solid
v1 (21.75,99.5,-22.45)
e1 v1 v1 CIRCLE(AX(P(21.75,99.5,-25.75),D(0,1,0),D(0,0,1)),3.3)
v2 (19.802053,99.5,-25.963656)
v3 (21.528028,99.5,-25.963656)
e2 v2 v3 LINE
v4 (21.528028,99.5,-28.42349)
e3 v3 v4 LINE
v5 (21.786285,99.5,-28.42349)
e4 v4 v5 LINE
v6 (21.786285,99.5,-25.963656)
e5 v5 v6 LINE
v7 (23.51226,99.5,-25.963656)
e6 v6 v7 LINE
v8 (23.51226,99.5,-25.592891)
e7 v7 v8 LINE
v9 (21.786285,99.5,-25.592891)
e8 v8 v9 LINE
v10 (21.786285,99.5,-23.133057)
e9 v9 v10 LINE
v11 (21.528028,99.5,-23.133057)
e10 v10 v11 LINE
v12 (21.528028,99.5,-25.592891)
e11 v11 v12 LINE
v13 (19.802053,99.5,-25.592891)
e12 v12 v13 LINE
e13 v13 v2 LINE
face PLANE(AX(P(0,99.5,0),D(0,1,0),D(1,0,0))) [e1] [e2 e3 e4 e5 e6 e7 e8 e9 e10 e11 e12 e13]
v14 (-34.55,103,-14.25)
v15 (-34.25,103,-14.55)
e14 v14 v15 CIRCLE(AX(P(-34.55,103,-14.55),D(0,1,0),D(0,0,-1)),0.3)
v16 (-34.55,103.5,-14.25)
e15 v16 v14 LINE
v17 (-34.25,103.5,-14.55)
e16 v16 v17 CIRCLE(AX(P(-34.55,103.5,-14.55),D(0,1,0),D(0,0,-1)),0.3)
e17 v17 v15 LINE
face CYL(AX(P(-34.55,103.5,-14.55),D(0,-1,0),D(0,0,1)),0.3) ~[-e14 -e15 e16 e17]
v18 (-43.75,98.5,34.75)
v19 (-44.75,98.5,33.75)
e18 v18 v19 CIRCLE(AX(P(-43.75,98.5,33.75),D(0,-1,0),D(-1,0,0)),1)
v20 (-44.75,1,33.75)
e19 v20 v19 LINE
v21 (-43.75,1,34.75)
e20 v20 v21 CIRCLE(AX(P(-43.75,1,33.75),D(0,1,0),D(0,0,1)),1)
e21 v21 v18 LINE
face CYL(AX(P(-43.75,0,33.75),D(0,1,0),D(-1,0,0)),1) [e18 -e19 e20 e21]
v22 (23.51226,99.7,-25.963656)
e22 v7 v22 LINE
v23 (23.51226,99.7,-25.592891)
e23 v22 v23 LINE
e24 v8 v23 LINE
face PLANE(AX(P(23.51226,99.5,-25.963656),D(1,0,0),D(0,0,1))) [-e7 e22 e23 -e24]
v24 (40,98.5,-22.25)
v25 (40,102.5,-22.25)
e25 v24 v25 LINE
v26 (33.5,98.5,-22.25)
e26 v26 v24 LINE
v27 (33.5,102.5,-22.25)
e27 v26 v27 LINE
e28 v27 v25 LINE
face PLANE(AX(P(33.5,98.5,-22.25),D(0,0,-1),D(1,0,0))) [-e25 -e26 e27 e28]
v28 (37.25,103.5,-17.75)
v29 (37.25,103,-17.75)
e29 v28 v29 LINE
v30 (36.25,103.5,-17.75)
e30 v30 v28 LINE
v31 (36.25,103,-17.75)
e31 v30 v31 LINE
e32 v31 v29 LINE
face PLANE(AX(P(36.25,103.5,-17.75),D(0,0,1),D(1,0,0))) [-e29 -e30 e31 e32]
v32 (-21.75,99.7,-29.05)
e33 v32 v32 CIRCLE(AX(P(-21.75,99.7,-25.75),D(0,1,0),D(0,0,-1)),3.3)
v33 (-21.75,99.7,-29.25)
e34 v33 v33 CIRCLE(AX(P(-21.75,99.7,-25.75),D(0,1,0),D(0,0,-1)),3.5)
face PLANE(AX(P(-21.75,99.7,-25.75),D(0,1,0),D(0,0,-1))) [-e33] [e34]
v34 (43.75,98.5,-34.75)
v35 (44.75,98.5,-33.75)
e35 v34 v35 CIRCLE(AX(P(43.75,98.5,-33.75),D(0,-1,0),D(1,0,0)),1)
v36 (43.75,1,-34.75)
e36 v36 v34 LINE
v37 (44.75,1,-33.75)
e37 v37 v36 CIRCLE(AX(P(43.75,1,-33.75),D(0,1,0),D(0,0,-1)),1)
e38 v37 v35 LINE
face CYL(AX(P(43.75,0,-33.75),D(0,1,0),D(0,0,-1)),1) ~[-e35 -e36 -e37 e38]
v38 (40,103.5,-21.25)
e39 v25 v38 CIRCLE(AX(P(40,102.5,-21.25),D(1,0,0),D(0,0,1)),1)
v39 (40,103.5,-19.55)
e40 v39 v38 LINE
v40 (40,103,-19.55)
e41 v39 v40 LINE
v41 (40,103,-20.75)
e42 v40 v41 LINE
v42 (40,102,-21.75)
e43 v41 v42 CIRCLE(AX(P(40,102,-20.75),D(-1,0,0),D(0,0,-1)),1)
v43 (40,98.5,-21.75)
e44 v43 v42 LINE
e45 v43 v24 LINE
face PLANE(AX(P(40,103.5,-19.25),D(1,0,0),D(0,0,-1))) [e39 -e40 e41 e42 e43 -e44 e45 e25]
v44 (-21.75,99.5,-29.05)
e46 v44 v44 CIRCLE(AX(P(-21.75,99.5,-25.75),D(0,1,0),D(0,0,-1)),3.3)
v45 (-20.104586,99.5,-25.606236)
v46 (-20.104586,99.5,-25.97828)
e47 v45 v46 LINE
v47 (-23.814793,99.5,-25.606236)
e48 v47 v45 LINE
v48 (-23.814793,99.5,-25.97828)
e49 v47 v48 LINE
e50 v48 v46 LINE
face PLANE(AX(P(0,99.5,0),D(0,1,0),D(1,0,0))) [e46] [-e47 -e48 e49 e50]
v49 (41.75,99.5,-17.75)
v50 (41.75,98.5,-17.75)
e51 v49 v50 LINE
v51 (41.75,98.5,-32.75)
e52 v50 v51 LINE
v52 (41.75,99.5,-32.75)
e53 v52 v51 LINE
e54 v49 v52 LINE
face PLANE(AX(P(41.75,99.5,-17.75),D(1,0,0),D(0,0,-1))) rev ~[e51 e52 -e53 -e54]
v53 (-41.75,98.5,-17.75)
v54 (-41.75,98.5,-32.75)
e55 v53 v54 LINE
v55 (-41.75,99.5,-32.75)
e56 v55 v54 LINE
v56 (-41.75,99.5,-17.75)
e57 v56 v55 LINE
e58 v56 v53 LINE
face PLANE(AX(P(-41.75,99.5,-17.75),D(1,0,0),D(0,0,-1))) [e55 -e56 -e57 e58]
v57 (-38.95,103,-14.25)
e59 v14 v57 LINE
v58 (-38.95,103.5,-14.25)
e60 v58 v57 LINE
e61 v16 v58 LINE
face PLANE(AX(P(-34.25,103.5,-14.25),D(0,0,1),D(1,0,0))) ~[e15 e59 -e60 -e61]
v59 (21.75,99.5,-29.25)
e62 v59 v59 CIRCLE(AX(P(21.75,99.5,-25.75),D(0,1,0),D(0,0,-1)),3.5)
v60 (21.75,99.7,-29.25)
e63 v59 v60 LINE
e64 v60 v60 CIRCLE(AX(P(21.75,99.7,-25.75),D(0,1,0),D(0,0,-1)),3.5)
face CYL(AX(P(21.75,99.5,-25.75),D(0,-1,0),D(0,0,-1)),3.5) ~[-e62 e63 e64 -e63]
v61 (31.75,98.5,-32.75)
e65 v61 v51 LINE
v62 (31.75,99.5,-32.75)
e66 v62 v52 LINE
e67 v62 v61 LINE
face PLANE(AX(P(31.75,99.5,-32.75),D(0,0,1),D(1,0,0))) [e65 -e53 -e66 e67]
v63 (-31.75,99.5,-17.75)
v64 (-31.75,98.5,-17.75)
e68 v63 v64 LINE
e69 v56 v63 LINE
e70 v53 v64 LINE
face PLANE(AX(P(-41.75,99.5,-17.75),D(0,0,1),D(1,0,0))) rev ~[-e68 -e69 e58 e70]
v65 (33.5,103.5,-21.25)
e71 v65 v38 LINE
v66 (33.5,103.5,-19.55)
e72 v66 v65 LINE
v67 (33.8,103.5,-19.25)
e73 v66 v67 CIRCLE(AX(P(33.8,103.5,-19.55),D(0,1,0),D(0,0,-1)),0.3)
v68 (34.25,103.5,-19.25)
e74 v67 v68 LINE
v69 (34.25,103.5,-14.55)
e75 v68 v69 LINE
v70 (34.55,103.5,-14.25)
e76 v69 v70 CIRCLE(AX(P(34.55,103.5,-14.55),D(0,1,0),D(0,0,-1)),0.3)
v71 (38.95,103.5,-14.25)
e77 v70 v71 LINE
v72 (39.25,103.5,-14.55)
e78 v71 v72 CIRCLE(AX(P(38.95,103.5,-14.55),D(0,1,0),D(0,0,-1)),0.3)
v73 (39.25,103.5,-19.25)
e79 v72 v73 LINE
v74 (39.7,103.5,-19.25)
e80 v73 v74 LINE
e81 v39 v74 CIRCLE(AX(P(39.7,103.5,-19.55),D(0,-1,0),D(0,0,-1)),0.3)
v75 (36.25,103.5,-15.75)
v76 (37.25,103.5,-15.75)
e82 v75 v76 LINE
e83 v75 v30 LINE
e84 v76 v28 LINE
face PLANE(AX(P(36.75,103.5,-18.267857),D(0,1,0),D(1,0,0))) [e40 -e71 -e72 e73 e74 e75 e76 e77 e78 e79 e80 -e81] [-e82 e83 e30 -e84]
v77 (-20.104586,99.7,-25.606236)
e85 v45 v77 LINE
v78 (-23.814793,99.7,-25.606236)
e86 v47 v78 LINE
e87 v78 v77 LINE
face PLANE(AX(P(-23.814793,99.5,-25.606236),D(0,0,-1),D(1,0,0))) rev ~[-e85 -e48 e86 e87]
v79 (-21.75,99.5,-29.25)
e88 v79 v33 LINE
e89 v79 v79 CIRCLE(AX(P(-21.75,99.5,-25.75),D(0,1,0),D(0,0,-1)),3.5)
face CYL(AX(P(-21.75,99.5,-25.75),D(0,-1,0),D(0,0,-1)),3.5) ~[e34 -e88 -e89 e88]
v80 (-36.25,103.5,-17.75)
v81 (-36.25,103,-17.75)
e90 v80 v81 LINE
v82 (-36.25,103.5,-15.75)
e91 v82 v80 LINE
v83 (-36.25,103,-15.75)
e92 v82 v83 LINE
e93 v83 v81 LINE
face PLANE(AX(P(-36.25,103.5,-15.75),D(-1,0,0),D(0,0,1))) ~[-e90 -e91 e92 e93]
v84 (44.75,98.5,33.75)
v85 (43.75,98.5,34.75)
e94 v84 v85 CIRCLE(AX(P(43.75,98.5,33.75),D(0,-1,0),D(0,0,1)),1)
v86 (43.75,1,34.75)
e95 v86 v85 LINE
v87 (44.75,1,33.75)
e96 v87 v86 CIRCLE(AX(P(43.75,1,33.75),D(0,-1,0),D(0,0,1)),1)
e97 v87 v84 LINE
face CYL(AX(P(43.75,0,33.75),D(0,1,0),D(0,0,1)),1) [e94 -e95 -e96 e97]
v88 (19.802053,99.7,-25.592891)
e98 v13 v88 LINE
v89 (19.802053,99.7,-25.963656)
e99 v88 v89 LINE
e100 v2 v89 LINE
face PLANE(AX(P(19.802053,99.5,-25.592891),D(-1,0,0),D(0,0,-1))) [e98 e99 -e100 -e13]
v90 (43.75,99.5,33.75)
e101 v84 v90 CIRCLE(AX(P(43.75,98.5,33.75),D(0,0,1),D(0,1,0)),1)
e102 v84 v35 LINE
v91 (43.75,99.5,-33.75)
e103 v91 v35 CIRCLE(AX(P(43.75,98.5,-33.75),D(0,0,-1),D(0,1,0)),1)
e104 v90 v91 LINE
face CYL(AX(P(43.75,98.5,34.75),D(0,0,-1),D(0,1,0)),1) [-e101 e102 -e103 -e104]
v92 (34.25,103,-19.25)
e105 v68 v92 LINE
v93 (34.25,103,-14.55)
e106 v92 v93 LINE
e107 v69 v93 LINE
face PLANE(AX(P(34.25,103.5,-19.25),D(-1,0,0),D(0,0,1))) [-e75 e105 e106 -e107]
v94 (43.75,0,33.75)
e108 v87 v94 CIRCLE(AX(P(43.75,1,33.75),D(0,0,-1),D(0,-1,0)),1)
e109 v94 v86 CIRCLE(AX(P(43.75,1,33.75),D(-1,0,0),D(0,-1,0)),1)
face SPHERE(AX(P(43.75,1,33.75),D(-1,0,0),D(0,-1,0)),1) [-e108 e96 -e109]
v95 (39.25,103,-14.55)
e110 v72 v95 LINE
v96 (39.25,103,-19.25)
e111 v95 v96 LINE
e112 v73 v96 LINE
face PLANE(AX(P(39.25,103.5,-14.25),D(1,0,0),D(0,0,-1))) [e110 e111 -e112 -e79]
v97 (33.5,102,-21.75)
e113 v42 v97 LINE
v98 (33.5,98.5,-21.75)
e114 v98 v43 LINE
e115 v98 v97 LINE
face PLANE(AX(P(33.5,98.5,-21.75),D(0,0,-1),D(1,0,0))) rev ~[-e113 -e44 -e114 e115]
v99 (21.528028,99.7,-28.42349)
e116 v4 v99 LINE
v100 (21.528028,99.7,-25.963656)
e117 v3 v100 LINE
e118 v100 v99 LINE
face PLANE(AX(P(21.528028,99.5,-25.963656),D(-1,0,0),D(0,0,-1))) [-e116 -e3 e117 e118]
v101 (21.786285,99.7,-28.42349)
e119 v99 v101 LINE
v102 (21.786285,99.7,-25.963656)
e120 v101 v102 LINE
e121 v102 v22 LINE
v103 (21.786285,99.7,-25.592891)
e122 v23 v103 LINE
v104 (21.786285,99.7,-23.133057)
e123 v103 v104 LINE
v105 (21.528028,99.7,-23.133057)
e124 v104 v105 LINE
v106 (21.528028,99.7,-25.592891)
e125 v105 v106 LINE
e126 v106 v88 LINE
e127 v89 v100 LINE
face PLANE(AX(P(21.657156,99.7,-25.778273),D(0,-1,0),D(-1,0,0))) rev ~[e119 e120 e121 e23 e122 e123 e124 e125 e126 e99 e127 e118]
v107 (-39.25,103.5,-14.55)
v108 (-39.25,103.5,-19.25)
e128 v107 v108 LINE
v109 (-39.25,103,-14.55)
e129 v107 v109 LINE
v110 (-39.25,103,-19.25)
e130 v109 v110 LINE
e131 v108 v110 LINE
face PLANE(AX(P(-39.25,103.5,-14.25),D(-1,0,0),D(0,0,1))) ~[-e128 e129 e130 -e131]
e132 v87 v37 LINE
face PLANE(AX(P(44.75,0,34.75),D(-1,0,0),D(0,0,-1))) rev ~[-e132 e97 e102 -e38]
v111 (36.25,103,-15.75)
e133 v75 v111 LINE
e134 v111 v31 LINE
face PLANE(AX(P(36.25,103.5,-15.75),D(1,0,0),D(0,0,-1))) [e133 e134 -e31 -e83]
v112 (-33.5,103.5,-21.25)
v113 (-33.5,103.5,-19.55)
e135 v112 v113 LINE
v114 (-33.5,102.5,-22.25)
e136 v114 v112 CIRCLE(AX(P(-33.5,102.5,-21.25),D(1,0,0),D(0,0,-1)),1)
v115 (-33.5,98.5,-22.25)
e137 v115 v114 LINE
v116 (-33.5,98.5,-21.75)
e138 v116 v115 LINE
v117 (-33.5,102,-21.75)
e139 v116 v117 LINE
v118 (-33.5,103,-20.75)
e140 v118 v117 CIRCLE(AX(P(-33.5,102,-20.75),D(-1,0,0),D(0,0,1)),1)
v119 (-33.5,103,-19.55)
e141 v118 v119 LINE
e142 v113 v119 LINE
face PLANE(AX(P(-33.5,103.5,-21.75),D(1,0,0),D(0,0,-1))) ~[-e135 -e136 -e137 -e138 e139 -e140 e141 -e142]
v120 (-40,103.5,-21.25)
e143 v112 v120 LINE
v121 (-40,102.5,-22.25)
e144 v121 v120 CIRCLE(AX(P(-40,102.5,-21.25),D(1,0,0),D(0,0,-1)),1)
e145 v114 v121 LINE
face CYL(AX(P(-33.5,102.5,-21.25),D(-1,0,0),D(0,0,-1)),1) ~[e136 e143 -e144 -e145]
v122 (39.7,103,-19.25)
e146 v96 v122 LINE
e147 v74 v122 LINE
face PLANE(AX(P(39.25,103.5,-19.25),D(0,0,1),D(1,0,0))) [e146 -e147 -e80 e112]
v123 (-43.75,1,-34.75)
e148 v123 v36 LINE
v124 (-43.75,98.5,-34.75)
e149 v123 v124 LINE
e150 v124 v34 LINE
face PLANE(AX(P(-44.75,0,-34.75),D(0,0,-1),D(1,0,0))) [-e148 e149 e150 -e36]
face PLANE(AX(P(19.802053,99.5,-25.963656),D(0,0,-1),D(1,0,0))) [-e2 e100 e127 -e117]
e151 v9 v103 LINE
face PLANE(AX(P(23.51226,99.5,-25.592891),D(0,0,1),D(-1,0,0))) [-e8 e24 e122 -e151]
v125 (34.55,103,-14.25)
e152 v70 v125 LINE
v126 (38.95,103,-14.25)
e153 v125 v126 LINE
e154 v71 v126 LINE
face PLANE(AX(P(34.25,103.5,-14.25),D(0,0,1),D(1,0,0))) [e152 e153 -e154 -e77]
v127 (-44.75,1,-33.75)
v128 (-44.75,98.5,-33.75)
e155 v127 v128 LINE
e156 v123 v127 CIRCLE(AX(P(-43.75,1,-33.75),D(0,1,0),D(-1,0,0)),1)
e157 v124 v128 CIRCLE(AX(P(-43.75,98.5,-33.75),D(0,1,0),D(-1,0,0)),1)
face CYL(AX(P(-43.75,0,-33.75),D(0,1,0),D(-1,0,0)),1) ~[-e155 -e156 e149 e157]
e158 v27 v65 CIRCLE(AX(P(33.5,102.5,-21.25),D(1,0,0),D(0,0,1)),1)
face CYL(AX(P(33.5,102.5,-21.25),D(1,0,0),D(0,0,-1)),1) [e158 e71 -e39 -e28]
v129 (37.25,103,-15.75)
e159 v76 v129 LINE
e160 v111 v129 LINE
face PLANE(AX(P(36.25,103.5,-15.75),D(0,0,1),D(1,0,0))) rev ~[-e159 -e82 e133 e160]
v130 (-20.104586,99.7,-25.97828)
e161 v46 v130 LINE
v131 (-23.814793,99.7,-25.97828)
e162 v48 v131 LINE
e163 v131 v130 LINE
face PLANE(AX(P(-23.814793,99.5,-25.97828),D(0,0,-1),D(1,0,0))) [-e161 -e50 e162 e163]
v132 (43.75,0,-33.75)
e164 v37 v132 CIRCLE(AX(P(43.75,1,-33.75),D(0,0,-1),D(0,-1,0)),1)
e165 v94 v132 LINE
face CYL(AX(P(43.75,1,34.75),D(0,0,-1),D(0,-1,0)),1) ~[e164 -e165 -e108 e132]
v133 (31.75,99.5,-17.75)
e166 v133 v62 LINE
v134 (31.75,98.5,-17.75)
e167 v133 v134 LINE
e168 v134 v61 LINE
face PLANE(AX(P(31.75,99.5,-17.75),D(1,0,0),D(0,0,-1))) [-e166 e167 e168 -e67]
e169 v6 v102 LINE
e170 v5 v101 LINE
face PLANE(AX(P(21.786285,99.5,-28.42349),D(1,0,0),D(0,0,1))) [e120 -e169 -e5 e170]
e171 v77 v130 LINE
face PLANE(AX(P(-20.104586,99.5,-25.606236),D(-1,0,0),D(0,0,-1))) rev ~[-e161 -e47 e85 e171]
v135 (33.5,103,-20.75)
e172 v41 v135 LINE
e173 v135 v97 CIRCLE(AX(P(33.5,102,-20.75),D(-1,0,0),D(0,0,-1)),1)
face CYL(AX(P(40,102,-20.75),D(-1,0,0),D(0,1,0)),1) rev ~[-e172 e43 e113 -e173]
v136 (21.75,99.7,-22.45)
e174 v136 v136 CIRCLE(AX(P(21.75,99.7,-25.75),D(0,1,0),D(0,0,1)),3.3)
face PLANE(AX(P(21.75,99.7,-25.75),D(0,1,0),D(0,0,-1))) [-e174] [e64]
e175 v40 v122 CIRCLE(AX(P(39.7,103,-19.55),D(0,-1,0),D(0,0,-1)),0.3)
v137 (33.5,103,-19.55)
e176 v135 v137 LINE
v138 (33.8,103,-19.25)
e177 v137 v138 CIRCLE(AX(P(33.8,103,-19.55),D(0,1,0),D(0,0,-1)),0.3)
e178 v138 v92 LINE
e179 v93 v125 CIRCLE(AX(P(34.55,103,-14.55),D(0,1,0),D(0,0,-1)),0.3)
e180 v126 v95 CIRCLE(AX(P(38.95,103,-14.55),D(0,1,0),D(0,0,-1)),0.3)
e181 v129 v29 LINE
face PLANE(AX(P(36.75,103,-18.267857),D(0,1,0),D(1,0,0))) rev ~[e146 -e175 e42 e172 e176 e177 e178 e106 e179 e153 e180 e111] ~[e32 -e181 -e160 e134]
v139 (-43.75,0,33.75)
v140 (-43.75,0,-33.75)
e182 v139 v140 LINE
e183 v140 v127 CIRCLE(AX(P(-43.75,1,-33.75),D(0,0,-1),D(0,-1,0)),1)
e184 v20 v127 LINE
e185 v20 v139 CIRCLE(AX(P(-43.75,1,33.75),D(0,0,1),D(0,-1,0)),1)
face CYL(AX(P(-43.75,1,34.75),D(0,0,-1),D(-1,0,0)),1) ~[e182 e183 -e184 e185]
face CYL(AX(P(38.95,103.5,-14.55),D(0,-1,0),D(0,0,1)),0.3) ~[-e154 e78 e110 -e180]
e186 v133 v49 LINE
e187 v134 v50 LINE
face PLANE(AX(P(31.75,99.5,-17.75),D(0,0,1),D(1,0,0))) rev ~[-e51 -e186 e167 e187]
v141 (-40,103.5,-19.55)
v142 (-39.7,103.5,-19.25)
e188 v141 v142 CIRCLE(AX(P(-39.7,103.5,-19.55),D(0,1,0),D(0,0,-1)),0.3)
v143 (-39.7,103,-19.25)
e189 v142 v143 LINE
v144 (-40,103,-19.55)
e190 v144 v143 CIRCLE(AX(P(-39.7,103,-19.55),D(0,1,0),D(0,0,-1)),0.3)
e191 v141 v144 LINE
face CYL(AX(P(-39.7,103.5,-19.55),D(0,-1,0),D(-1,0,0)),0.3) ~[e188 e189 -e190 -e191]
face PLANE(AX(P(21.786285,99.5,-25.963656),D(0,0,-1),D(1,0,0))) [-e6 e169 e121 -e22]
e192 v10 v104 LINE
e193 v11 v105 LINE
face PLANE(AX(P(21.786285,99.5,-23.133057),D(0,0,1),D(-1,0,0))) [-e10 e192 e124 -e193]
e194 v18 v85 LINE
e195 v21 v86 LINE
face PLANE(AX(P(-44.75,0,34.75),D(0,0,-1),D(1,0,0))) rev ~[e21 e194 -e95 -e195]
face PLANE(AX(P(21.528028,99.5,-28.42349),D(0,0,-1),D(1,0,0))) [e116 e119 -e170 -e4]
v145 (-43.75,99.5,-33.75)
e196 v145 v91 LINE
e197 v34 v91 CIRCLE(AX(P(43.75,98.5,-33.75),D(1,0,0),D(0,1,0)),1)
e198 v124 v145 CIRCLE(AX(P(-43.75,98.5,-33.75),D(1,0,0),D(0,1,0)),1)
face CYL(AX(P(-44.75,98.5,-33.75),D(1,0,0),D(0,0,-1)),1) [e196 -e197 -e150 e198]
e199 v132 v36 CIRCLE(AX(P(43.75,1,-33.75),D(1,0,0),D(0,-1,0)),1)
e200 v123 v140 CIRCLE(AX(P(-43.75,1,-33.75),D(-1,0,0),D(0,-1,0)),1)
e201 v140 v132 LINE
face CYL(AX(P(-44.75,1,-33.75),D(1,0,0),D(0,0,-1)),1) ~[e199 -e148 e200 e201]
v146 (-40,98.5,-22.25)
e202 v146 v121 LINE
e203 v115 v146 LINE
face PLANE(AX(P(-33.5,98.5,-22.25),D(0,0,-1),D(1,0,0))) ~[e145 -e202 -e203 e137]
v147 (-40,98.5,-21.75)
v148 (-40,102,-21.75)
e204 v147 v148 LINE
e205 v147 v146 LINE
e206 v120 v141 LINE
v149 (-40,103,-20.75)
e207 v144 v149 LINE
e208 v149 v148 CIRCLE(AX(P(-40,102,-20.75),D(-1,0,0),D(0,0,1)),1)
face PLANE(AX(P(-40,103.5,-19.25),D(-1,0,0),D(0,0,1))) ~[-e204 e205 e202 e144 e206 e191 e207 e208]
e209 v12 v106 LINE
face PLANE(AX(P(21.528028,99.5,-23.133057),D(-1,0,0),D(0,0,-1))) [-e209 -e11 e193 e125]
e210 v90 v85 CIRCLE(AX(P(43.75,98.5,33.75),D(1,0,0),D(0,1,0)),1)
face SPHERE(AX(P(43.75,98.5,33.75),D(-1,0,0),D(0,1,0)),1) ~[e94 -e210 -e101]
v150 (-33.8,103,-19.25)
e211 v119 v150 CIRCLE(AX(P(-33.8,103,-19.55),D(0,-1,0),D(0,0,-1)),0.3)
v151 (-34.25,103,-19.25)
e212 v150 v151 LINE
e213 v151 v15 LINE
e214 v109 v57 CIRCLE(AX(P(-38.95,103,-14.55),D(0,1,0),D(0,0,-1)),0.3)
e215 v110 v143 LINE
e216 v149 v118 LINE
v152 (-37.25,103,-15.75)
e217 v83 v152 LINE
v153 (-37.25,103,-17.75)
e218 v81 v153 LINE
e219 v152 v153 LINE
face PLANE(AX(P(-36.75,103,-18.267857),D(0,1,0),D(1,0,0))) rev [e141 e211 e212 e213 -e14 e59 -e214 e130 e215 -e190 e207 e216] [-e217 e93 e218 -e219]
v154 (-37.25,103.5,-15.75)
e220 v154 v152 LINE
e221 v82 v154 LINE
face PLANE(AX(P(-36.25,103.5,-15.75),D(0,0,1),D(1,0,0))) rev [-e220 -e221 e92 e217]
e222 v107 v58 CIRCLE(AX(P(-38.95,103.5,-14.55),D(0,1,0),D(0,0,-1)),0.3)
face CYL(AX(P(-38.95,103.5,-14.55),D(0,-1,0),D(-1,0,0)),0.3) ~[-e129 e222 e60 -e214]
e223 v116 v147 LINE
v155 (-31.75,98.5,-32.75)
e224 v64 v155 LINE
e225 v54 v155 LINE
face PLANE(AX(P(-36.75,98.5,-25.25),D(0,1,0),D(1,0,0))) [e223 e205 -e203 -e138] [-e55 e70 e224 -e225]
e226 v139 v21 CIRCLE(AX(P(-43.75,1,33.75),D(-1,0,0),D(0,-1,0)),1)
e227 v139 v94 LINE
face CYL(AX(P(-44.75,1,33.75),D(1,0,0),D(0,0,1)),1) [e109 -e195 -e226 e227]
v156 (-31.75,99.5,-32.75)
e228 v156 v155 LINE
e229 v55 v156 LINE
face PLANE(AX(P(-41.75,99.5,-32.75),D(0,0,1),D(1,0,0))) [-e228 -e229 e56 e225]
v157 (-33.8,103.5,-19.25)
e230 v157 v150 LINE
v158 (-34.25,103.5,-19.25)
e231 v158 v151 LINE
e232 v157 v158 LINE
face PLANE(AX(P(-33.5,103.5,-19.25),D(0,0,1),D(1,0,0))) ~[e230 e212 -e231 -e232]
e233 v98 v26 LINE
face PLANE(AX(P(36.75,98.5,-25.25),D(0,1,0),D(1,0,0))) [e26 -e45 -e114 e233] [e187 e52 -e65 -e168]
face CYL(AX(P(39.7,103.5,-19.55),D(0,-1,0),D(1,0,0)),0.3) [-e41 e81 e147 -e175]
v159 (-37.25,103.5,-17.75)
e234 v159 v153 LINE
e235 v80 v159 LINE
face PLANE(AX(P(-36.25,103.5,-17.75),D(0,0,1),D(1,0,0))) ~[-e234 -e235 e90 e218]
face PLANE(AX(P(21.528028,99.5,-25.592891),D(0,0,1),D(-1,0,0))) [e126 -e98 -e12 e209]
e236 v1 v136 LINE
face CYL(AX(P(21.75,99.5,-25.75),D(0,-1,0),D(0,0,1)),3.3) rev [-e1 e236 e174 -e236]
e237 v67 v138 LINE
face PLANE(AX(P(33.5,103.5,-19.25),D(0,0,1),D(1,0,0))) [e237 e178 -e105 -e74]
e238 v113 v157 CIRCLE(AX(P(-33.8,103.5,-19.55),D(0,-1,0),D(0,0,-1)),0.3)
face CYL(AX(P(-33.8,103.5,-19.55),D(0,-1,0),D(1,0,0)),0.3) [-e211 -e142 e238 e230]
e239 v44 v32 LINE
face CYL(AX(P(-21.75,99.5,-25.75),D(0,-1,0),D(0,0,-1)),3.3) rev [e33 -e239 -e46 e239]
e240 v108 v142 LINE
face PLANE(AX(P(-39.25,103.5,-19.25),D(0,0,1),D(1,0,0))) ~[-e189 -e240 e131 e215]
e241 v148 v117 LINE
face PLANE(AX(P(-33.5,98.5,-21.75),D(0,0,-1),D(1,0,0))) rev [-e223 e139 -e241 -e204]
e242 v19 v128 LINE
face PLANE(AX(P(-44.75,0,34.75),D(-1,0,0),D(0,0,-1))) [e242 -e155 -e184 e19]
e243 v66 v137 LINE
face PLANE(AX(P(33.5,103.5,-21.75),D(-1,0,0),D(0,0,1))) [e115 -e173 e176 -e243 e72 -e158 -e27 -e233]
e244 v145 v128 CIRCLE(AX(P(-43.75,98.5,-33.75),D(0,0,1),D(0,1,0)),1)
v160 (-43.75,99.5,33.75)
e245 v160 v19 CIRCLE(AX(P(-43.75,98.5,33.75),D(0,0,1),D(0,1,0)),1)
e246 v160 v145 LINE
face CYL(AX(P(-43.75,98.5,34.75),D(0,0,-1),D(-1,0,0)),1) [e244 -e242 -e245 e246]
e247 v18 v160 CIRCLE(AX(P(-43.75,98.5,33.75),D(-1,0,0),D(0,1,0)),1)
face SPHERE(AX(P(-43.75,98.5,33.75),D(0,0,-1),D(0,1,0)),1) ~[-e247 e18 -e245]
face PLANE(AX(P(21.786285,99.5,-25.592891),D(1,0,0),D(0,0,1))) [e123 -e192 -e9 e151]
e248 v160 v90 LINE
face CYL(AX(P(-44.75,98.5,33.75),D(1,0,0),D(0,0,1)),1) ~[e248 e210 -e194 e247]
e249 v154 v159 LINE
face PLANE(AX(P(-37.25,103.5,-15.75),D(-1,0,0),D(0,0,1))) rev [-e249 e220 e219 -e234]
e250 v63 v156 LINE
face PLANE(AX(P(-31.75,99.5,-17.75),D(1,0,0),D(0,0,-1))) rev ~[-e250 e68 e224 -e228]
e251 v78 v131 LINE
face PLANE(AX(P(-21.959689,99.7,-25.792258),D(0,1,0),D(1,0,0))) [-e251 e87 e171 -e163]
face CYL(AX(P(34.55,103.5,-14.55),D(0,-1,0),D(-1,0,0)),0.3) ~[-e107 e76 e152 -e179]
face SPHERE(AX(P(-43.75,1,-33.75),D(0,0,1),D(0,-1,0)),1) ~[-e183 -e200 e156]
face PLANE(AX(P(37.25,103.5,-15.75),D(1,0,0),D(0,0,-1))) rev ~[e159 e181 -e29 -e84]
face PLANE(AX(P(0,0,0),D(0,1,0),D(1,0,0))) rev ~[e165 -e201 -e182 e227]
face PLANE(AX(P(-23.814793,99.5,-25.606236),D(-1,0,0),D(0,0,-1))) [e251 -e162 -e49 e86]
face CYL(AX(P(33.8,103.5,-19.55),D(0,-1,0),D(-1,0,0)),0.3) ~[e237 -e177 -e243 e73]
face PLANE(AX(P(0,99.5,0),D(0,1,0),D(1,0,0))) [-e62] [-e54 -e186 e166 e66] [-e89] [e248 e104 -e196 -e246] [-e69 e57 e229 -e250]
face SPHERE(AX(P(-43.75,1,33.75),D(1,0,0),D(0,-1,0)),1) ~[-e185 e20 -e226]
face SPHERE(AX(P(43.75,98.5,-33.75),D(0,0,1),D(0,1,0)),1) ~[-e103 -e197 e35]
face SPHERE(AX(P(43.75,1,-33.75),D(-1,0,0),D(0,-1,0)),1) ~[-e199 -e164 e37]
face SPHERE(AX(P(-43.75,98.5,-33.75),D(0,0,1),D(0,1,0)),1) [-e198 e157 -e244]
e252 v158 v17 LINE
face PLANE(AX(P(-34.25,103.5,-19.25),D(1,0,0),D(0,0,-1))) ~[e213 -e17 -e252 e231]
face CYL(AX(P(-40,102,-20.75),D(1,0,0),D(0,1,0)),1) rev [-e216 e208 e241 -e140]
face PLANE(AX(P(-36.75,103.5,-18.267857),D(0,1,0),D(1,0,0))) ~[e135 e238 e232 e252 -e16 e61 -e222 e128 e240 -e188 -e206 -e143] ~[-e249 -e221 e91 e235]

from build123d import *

# Parameters (mm, degrees)
SKETCH_1_W             = 89.5
SKETCH_1_H             = 69.5
EXTRUDE_1_DEPTH        = 99.5
SKETCH_2_W             = 10
SKETCH_2_H             = 15
CUT_EXTRUDE_1_DEPTH    = 1
FILLET_1_R             = 1
SKETCH_3_W             = 6.5
SKETCH_3_H             = 0.5
EXTRUDE_2_DEPTH        = 5
SKETCH_4_W             = 1
SKETCH_4_H             = 2
EXTRUDE_3_DEPTH        = 0.5
FILLET_2_R             = 1
FILLET_3_R             = 0.3
FILLET_2_OF_MIRROR_1_R = 1
FILLET_3_OF_MIRROR_1_R = 0.3
SKETCH_5_W             = 3.710206691
SKETCH_5_H             = 0.372043469
EXTRUDE_4_DEPTH        = 0.2
SKETCH_6_R             = 3.5
SKETCH_6_R_2           = 3.3
EXTRUDE_5_DEPTH        = 0.2


with BuildPart() as part:
    # 草图1 → 凸台-拉伸1 (new body)
    with BuildSketch(Plane(origin=(0, 0, 0), x_dir=(1, 0, 0), z_dir=(0, 1, 0))):
        Rectangle(SKETCH_1_W, SKETCH_1_H)
    extrude(amount=EXTRUDE_1_DEPTH)

    # 草图2 → 切除-拉伸1 (cut)
    with BuildSketch(Plane(origin=(0, 99.5, 0), x_dir=(1, 0, 0), z_dir=(0, 1, 0))):
        with Locations((-36.75, 25.25)):
            Rectangle(SKETCH_2_W, SKETCH_2_H)
        with Locations((36.75, 25.25)):
            Rectangle(SKETCH_2_W, SKETCH_2_H)
    extrude(amount=-CUT_EXTRUDE_1_DEPTH, mode=Mode.SUBTRACT)

    # 圆角1
    fillet_1_edges = [part.edges().sort_by_distance(p)[0] for p in [
        (-44.75, 99.5, 0),
        (0, 99.5, 34.75),
        (44.75, 99.5, 0),
        (0, 0, 34.75),
        (-44.75, 0, 0),
        (0, 0, -34.75),
        (44.75, 0, 0),
        (0, 99.5, -34.75),
        (44.75, 49.75, 34.75),
        (-44.75, 49.75, 34.75),
        (-44.75, 49.75, -34.75),
        (44.75, 49.75, -34.75),
    ]]
    fillet(fillet_1_edges, radius=FILLET_1_R)

    # 草图3 → 凸台-拉伸2 (add)
    with BuildSketch(Plane(origin=(0, 98.5, 0), x_dir=(1, 0, 0), z_dir=(0, 1, 0))):
        with Locations((36.75, 22)):
            Rectangle(SKETCH_3_W, SKETCH_3_H)
    extrude_2 = extrude(amount=EXTRUDE_2_DEPTH)

    # 草图4 → 凸台-拉伸3 (add)
    with BuildSketch(Plane(origin=(0, 103.5, 0), x_dir=(1, 0, 0), z_dir=(0, 1, 0))):
        Polygon((33.5, 21.75), (33.5, 19.25), (34.25, 19.25), (34.25, 14.25), (39.25, 14.25), (39.25, 19.25), (40, 19.25), (40, 21.75), align=None)
        with Locations((36.75, 16.75)):
            Rectangle(SKETCH_4_W, SKETCH_4_H, mode=Mode.SUBTRACT)
    extrude_3 = extrude(amount=-EXTRUDE_3_DEPTH)

    # 圆角2
    fillet_2_edges = [part.edges().sort_by_distance(p)[0] for p in [
        (36.75, 103.5, -22.25),
        (36.75, 103, -21.75),
    ]]
    fillet(fillet_2_edges, radius=FILLET_2_R)

    # 圆角3
    fillet_3_edges = [part.edges().sort_by_distance(p)[0] for p in [
        (40, 103.25, -19.25),
        (39.25, 103.25, -14.25),
        (34.25, 103.25, -14.25),
        (33.5, 103.25, -19.25),
    ]]
    fillet(fillet_3_edges, radius=FILLET_3_R)

    # 镜向1: 凸台-拉伸2, 凸台-拉伸3 across plane
    add(extrude_2.mirror(Plane(origin=(0, 0, 0), x_dir=(0, 0, 1), z_dir=(1, 0, 0))))
    add(extrude_3.mirror(Plane(origin=(0, 0, 0), x_dir=(0, 0, 1), z_dir=(1, 0, 0))))

    # 圆角2 of 镜向1
    fillet_2_of_mirror_1_edges = [part.edges().sort_by_distance(p)[0] for p in [
        (-36.75, 103.5, -22.25),
        (-36.75, 103, -21.75),
    ]]
    fillet(fillet_2_of_mirror_1_edges, radius=FILLET_2_OF_MIRROR_1_R)

    # 圆角3 of 镜向1
    fillet_3_of_mirror_1_edges = [part.edges().sort_by_distance(p)[0] for p in [
        (-40, 103.25, -19.25),
        (-39.25, 103.25, -14.25),
        (-34.25, 103.25, -14.25),
        (-33.5, 103.25, -19.25),
    ]]
    fillet(fillet_3_of_mirror_1_edges, radius=FILLET_3_OF_MIRROR_1_R)

    # 草图5 → 凸台-拉伸4 (add)
    with BuildSketch(Plane(origin=(0, 99.5, 0), x_dir=(1, 0, 0), z_dir=(0, 1, 0))):
        Polygon((21.528027711, 25.963655783), (21.528027711, 28.423489578), (21.78628469, 28.423489578), (21.78628469, 25.963655783), (23.512259546, 25.963655783), (23.512259546, 25.592890813), (21.78628469, 25.592890813), (21.78628469, 23.133057018), (21.528027711, 23.133057018), (21.528027711, 25.592890813), (19.802052855, 25.592890813), (19.802052855, 25.963655783), align=None)
        with Locations((-21.959689363, 25.792257863)):
            Rectangle(SKETCH_5_W, SKETCH_5_H)
    extrude(amount=EXTRUDE_4_DEPTH)

    # 草图6 → 凸台-拉伸5 (add)
    # profile 1 of 2: a face of its own
    with BuildSketch(Plane(origin=(0, 99.5, 0), x_dir=(1, 0, 0), z_dir=(0, 1, 0))):
        with Locations(Location((21.75, 25.75, 0), (0, 0, 90))):
            Circle(SKETCH_6_R)
        with Locations(Location((21.75, 25.75, 0), (0, 0, 270))):
            Circle(SKETCH_6_R_2, mode=Mode.SUBTRACT)
    # profile 2 of 2: a face of its own
    with BuildSketch(Plane(origin=(0, 99.5, 0), x_dir=(1, 0, 0), z_dir=(0, 1, 0))):
        with Locations(Location((-21.75, 25.75, 0), (0, 0, 90))):
            Circle(SKETCH_6_R)
        with Locations(Location((-21.75, 25.75, 0), (0, 0, 90))):
            Circle(SKETCH_6_R_2, mode=Mode.SUBTRACT)
    extrude(amount=EXTRUDE_5_DEPTH)


solid = part.part
